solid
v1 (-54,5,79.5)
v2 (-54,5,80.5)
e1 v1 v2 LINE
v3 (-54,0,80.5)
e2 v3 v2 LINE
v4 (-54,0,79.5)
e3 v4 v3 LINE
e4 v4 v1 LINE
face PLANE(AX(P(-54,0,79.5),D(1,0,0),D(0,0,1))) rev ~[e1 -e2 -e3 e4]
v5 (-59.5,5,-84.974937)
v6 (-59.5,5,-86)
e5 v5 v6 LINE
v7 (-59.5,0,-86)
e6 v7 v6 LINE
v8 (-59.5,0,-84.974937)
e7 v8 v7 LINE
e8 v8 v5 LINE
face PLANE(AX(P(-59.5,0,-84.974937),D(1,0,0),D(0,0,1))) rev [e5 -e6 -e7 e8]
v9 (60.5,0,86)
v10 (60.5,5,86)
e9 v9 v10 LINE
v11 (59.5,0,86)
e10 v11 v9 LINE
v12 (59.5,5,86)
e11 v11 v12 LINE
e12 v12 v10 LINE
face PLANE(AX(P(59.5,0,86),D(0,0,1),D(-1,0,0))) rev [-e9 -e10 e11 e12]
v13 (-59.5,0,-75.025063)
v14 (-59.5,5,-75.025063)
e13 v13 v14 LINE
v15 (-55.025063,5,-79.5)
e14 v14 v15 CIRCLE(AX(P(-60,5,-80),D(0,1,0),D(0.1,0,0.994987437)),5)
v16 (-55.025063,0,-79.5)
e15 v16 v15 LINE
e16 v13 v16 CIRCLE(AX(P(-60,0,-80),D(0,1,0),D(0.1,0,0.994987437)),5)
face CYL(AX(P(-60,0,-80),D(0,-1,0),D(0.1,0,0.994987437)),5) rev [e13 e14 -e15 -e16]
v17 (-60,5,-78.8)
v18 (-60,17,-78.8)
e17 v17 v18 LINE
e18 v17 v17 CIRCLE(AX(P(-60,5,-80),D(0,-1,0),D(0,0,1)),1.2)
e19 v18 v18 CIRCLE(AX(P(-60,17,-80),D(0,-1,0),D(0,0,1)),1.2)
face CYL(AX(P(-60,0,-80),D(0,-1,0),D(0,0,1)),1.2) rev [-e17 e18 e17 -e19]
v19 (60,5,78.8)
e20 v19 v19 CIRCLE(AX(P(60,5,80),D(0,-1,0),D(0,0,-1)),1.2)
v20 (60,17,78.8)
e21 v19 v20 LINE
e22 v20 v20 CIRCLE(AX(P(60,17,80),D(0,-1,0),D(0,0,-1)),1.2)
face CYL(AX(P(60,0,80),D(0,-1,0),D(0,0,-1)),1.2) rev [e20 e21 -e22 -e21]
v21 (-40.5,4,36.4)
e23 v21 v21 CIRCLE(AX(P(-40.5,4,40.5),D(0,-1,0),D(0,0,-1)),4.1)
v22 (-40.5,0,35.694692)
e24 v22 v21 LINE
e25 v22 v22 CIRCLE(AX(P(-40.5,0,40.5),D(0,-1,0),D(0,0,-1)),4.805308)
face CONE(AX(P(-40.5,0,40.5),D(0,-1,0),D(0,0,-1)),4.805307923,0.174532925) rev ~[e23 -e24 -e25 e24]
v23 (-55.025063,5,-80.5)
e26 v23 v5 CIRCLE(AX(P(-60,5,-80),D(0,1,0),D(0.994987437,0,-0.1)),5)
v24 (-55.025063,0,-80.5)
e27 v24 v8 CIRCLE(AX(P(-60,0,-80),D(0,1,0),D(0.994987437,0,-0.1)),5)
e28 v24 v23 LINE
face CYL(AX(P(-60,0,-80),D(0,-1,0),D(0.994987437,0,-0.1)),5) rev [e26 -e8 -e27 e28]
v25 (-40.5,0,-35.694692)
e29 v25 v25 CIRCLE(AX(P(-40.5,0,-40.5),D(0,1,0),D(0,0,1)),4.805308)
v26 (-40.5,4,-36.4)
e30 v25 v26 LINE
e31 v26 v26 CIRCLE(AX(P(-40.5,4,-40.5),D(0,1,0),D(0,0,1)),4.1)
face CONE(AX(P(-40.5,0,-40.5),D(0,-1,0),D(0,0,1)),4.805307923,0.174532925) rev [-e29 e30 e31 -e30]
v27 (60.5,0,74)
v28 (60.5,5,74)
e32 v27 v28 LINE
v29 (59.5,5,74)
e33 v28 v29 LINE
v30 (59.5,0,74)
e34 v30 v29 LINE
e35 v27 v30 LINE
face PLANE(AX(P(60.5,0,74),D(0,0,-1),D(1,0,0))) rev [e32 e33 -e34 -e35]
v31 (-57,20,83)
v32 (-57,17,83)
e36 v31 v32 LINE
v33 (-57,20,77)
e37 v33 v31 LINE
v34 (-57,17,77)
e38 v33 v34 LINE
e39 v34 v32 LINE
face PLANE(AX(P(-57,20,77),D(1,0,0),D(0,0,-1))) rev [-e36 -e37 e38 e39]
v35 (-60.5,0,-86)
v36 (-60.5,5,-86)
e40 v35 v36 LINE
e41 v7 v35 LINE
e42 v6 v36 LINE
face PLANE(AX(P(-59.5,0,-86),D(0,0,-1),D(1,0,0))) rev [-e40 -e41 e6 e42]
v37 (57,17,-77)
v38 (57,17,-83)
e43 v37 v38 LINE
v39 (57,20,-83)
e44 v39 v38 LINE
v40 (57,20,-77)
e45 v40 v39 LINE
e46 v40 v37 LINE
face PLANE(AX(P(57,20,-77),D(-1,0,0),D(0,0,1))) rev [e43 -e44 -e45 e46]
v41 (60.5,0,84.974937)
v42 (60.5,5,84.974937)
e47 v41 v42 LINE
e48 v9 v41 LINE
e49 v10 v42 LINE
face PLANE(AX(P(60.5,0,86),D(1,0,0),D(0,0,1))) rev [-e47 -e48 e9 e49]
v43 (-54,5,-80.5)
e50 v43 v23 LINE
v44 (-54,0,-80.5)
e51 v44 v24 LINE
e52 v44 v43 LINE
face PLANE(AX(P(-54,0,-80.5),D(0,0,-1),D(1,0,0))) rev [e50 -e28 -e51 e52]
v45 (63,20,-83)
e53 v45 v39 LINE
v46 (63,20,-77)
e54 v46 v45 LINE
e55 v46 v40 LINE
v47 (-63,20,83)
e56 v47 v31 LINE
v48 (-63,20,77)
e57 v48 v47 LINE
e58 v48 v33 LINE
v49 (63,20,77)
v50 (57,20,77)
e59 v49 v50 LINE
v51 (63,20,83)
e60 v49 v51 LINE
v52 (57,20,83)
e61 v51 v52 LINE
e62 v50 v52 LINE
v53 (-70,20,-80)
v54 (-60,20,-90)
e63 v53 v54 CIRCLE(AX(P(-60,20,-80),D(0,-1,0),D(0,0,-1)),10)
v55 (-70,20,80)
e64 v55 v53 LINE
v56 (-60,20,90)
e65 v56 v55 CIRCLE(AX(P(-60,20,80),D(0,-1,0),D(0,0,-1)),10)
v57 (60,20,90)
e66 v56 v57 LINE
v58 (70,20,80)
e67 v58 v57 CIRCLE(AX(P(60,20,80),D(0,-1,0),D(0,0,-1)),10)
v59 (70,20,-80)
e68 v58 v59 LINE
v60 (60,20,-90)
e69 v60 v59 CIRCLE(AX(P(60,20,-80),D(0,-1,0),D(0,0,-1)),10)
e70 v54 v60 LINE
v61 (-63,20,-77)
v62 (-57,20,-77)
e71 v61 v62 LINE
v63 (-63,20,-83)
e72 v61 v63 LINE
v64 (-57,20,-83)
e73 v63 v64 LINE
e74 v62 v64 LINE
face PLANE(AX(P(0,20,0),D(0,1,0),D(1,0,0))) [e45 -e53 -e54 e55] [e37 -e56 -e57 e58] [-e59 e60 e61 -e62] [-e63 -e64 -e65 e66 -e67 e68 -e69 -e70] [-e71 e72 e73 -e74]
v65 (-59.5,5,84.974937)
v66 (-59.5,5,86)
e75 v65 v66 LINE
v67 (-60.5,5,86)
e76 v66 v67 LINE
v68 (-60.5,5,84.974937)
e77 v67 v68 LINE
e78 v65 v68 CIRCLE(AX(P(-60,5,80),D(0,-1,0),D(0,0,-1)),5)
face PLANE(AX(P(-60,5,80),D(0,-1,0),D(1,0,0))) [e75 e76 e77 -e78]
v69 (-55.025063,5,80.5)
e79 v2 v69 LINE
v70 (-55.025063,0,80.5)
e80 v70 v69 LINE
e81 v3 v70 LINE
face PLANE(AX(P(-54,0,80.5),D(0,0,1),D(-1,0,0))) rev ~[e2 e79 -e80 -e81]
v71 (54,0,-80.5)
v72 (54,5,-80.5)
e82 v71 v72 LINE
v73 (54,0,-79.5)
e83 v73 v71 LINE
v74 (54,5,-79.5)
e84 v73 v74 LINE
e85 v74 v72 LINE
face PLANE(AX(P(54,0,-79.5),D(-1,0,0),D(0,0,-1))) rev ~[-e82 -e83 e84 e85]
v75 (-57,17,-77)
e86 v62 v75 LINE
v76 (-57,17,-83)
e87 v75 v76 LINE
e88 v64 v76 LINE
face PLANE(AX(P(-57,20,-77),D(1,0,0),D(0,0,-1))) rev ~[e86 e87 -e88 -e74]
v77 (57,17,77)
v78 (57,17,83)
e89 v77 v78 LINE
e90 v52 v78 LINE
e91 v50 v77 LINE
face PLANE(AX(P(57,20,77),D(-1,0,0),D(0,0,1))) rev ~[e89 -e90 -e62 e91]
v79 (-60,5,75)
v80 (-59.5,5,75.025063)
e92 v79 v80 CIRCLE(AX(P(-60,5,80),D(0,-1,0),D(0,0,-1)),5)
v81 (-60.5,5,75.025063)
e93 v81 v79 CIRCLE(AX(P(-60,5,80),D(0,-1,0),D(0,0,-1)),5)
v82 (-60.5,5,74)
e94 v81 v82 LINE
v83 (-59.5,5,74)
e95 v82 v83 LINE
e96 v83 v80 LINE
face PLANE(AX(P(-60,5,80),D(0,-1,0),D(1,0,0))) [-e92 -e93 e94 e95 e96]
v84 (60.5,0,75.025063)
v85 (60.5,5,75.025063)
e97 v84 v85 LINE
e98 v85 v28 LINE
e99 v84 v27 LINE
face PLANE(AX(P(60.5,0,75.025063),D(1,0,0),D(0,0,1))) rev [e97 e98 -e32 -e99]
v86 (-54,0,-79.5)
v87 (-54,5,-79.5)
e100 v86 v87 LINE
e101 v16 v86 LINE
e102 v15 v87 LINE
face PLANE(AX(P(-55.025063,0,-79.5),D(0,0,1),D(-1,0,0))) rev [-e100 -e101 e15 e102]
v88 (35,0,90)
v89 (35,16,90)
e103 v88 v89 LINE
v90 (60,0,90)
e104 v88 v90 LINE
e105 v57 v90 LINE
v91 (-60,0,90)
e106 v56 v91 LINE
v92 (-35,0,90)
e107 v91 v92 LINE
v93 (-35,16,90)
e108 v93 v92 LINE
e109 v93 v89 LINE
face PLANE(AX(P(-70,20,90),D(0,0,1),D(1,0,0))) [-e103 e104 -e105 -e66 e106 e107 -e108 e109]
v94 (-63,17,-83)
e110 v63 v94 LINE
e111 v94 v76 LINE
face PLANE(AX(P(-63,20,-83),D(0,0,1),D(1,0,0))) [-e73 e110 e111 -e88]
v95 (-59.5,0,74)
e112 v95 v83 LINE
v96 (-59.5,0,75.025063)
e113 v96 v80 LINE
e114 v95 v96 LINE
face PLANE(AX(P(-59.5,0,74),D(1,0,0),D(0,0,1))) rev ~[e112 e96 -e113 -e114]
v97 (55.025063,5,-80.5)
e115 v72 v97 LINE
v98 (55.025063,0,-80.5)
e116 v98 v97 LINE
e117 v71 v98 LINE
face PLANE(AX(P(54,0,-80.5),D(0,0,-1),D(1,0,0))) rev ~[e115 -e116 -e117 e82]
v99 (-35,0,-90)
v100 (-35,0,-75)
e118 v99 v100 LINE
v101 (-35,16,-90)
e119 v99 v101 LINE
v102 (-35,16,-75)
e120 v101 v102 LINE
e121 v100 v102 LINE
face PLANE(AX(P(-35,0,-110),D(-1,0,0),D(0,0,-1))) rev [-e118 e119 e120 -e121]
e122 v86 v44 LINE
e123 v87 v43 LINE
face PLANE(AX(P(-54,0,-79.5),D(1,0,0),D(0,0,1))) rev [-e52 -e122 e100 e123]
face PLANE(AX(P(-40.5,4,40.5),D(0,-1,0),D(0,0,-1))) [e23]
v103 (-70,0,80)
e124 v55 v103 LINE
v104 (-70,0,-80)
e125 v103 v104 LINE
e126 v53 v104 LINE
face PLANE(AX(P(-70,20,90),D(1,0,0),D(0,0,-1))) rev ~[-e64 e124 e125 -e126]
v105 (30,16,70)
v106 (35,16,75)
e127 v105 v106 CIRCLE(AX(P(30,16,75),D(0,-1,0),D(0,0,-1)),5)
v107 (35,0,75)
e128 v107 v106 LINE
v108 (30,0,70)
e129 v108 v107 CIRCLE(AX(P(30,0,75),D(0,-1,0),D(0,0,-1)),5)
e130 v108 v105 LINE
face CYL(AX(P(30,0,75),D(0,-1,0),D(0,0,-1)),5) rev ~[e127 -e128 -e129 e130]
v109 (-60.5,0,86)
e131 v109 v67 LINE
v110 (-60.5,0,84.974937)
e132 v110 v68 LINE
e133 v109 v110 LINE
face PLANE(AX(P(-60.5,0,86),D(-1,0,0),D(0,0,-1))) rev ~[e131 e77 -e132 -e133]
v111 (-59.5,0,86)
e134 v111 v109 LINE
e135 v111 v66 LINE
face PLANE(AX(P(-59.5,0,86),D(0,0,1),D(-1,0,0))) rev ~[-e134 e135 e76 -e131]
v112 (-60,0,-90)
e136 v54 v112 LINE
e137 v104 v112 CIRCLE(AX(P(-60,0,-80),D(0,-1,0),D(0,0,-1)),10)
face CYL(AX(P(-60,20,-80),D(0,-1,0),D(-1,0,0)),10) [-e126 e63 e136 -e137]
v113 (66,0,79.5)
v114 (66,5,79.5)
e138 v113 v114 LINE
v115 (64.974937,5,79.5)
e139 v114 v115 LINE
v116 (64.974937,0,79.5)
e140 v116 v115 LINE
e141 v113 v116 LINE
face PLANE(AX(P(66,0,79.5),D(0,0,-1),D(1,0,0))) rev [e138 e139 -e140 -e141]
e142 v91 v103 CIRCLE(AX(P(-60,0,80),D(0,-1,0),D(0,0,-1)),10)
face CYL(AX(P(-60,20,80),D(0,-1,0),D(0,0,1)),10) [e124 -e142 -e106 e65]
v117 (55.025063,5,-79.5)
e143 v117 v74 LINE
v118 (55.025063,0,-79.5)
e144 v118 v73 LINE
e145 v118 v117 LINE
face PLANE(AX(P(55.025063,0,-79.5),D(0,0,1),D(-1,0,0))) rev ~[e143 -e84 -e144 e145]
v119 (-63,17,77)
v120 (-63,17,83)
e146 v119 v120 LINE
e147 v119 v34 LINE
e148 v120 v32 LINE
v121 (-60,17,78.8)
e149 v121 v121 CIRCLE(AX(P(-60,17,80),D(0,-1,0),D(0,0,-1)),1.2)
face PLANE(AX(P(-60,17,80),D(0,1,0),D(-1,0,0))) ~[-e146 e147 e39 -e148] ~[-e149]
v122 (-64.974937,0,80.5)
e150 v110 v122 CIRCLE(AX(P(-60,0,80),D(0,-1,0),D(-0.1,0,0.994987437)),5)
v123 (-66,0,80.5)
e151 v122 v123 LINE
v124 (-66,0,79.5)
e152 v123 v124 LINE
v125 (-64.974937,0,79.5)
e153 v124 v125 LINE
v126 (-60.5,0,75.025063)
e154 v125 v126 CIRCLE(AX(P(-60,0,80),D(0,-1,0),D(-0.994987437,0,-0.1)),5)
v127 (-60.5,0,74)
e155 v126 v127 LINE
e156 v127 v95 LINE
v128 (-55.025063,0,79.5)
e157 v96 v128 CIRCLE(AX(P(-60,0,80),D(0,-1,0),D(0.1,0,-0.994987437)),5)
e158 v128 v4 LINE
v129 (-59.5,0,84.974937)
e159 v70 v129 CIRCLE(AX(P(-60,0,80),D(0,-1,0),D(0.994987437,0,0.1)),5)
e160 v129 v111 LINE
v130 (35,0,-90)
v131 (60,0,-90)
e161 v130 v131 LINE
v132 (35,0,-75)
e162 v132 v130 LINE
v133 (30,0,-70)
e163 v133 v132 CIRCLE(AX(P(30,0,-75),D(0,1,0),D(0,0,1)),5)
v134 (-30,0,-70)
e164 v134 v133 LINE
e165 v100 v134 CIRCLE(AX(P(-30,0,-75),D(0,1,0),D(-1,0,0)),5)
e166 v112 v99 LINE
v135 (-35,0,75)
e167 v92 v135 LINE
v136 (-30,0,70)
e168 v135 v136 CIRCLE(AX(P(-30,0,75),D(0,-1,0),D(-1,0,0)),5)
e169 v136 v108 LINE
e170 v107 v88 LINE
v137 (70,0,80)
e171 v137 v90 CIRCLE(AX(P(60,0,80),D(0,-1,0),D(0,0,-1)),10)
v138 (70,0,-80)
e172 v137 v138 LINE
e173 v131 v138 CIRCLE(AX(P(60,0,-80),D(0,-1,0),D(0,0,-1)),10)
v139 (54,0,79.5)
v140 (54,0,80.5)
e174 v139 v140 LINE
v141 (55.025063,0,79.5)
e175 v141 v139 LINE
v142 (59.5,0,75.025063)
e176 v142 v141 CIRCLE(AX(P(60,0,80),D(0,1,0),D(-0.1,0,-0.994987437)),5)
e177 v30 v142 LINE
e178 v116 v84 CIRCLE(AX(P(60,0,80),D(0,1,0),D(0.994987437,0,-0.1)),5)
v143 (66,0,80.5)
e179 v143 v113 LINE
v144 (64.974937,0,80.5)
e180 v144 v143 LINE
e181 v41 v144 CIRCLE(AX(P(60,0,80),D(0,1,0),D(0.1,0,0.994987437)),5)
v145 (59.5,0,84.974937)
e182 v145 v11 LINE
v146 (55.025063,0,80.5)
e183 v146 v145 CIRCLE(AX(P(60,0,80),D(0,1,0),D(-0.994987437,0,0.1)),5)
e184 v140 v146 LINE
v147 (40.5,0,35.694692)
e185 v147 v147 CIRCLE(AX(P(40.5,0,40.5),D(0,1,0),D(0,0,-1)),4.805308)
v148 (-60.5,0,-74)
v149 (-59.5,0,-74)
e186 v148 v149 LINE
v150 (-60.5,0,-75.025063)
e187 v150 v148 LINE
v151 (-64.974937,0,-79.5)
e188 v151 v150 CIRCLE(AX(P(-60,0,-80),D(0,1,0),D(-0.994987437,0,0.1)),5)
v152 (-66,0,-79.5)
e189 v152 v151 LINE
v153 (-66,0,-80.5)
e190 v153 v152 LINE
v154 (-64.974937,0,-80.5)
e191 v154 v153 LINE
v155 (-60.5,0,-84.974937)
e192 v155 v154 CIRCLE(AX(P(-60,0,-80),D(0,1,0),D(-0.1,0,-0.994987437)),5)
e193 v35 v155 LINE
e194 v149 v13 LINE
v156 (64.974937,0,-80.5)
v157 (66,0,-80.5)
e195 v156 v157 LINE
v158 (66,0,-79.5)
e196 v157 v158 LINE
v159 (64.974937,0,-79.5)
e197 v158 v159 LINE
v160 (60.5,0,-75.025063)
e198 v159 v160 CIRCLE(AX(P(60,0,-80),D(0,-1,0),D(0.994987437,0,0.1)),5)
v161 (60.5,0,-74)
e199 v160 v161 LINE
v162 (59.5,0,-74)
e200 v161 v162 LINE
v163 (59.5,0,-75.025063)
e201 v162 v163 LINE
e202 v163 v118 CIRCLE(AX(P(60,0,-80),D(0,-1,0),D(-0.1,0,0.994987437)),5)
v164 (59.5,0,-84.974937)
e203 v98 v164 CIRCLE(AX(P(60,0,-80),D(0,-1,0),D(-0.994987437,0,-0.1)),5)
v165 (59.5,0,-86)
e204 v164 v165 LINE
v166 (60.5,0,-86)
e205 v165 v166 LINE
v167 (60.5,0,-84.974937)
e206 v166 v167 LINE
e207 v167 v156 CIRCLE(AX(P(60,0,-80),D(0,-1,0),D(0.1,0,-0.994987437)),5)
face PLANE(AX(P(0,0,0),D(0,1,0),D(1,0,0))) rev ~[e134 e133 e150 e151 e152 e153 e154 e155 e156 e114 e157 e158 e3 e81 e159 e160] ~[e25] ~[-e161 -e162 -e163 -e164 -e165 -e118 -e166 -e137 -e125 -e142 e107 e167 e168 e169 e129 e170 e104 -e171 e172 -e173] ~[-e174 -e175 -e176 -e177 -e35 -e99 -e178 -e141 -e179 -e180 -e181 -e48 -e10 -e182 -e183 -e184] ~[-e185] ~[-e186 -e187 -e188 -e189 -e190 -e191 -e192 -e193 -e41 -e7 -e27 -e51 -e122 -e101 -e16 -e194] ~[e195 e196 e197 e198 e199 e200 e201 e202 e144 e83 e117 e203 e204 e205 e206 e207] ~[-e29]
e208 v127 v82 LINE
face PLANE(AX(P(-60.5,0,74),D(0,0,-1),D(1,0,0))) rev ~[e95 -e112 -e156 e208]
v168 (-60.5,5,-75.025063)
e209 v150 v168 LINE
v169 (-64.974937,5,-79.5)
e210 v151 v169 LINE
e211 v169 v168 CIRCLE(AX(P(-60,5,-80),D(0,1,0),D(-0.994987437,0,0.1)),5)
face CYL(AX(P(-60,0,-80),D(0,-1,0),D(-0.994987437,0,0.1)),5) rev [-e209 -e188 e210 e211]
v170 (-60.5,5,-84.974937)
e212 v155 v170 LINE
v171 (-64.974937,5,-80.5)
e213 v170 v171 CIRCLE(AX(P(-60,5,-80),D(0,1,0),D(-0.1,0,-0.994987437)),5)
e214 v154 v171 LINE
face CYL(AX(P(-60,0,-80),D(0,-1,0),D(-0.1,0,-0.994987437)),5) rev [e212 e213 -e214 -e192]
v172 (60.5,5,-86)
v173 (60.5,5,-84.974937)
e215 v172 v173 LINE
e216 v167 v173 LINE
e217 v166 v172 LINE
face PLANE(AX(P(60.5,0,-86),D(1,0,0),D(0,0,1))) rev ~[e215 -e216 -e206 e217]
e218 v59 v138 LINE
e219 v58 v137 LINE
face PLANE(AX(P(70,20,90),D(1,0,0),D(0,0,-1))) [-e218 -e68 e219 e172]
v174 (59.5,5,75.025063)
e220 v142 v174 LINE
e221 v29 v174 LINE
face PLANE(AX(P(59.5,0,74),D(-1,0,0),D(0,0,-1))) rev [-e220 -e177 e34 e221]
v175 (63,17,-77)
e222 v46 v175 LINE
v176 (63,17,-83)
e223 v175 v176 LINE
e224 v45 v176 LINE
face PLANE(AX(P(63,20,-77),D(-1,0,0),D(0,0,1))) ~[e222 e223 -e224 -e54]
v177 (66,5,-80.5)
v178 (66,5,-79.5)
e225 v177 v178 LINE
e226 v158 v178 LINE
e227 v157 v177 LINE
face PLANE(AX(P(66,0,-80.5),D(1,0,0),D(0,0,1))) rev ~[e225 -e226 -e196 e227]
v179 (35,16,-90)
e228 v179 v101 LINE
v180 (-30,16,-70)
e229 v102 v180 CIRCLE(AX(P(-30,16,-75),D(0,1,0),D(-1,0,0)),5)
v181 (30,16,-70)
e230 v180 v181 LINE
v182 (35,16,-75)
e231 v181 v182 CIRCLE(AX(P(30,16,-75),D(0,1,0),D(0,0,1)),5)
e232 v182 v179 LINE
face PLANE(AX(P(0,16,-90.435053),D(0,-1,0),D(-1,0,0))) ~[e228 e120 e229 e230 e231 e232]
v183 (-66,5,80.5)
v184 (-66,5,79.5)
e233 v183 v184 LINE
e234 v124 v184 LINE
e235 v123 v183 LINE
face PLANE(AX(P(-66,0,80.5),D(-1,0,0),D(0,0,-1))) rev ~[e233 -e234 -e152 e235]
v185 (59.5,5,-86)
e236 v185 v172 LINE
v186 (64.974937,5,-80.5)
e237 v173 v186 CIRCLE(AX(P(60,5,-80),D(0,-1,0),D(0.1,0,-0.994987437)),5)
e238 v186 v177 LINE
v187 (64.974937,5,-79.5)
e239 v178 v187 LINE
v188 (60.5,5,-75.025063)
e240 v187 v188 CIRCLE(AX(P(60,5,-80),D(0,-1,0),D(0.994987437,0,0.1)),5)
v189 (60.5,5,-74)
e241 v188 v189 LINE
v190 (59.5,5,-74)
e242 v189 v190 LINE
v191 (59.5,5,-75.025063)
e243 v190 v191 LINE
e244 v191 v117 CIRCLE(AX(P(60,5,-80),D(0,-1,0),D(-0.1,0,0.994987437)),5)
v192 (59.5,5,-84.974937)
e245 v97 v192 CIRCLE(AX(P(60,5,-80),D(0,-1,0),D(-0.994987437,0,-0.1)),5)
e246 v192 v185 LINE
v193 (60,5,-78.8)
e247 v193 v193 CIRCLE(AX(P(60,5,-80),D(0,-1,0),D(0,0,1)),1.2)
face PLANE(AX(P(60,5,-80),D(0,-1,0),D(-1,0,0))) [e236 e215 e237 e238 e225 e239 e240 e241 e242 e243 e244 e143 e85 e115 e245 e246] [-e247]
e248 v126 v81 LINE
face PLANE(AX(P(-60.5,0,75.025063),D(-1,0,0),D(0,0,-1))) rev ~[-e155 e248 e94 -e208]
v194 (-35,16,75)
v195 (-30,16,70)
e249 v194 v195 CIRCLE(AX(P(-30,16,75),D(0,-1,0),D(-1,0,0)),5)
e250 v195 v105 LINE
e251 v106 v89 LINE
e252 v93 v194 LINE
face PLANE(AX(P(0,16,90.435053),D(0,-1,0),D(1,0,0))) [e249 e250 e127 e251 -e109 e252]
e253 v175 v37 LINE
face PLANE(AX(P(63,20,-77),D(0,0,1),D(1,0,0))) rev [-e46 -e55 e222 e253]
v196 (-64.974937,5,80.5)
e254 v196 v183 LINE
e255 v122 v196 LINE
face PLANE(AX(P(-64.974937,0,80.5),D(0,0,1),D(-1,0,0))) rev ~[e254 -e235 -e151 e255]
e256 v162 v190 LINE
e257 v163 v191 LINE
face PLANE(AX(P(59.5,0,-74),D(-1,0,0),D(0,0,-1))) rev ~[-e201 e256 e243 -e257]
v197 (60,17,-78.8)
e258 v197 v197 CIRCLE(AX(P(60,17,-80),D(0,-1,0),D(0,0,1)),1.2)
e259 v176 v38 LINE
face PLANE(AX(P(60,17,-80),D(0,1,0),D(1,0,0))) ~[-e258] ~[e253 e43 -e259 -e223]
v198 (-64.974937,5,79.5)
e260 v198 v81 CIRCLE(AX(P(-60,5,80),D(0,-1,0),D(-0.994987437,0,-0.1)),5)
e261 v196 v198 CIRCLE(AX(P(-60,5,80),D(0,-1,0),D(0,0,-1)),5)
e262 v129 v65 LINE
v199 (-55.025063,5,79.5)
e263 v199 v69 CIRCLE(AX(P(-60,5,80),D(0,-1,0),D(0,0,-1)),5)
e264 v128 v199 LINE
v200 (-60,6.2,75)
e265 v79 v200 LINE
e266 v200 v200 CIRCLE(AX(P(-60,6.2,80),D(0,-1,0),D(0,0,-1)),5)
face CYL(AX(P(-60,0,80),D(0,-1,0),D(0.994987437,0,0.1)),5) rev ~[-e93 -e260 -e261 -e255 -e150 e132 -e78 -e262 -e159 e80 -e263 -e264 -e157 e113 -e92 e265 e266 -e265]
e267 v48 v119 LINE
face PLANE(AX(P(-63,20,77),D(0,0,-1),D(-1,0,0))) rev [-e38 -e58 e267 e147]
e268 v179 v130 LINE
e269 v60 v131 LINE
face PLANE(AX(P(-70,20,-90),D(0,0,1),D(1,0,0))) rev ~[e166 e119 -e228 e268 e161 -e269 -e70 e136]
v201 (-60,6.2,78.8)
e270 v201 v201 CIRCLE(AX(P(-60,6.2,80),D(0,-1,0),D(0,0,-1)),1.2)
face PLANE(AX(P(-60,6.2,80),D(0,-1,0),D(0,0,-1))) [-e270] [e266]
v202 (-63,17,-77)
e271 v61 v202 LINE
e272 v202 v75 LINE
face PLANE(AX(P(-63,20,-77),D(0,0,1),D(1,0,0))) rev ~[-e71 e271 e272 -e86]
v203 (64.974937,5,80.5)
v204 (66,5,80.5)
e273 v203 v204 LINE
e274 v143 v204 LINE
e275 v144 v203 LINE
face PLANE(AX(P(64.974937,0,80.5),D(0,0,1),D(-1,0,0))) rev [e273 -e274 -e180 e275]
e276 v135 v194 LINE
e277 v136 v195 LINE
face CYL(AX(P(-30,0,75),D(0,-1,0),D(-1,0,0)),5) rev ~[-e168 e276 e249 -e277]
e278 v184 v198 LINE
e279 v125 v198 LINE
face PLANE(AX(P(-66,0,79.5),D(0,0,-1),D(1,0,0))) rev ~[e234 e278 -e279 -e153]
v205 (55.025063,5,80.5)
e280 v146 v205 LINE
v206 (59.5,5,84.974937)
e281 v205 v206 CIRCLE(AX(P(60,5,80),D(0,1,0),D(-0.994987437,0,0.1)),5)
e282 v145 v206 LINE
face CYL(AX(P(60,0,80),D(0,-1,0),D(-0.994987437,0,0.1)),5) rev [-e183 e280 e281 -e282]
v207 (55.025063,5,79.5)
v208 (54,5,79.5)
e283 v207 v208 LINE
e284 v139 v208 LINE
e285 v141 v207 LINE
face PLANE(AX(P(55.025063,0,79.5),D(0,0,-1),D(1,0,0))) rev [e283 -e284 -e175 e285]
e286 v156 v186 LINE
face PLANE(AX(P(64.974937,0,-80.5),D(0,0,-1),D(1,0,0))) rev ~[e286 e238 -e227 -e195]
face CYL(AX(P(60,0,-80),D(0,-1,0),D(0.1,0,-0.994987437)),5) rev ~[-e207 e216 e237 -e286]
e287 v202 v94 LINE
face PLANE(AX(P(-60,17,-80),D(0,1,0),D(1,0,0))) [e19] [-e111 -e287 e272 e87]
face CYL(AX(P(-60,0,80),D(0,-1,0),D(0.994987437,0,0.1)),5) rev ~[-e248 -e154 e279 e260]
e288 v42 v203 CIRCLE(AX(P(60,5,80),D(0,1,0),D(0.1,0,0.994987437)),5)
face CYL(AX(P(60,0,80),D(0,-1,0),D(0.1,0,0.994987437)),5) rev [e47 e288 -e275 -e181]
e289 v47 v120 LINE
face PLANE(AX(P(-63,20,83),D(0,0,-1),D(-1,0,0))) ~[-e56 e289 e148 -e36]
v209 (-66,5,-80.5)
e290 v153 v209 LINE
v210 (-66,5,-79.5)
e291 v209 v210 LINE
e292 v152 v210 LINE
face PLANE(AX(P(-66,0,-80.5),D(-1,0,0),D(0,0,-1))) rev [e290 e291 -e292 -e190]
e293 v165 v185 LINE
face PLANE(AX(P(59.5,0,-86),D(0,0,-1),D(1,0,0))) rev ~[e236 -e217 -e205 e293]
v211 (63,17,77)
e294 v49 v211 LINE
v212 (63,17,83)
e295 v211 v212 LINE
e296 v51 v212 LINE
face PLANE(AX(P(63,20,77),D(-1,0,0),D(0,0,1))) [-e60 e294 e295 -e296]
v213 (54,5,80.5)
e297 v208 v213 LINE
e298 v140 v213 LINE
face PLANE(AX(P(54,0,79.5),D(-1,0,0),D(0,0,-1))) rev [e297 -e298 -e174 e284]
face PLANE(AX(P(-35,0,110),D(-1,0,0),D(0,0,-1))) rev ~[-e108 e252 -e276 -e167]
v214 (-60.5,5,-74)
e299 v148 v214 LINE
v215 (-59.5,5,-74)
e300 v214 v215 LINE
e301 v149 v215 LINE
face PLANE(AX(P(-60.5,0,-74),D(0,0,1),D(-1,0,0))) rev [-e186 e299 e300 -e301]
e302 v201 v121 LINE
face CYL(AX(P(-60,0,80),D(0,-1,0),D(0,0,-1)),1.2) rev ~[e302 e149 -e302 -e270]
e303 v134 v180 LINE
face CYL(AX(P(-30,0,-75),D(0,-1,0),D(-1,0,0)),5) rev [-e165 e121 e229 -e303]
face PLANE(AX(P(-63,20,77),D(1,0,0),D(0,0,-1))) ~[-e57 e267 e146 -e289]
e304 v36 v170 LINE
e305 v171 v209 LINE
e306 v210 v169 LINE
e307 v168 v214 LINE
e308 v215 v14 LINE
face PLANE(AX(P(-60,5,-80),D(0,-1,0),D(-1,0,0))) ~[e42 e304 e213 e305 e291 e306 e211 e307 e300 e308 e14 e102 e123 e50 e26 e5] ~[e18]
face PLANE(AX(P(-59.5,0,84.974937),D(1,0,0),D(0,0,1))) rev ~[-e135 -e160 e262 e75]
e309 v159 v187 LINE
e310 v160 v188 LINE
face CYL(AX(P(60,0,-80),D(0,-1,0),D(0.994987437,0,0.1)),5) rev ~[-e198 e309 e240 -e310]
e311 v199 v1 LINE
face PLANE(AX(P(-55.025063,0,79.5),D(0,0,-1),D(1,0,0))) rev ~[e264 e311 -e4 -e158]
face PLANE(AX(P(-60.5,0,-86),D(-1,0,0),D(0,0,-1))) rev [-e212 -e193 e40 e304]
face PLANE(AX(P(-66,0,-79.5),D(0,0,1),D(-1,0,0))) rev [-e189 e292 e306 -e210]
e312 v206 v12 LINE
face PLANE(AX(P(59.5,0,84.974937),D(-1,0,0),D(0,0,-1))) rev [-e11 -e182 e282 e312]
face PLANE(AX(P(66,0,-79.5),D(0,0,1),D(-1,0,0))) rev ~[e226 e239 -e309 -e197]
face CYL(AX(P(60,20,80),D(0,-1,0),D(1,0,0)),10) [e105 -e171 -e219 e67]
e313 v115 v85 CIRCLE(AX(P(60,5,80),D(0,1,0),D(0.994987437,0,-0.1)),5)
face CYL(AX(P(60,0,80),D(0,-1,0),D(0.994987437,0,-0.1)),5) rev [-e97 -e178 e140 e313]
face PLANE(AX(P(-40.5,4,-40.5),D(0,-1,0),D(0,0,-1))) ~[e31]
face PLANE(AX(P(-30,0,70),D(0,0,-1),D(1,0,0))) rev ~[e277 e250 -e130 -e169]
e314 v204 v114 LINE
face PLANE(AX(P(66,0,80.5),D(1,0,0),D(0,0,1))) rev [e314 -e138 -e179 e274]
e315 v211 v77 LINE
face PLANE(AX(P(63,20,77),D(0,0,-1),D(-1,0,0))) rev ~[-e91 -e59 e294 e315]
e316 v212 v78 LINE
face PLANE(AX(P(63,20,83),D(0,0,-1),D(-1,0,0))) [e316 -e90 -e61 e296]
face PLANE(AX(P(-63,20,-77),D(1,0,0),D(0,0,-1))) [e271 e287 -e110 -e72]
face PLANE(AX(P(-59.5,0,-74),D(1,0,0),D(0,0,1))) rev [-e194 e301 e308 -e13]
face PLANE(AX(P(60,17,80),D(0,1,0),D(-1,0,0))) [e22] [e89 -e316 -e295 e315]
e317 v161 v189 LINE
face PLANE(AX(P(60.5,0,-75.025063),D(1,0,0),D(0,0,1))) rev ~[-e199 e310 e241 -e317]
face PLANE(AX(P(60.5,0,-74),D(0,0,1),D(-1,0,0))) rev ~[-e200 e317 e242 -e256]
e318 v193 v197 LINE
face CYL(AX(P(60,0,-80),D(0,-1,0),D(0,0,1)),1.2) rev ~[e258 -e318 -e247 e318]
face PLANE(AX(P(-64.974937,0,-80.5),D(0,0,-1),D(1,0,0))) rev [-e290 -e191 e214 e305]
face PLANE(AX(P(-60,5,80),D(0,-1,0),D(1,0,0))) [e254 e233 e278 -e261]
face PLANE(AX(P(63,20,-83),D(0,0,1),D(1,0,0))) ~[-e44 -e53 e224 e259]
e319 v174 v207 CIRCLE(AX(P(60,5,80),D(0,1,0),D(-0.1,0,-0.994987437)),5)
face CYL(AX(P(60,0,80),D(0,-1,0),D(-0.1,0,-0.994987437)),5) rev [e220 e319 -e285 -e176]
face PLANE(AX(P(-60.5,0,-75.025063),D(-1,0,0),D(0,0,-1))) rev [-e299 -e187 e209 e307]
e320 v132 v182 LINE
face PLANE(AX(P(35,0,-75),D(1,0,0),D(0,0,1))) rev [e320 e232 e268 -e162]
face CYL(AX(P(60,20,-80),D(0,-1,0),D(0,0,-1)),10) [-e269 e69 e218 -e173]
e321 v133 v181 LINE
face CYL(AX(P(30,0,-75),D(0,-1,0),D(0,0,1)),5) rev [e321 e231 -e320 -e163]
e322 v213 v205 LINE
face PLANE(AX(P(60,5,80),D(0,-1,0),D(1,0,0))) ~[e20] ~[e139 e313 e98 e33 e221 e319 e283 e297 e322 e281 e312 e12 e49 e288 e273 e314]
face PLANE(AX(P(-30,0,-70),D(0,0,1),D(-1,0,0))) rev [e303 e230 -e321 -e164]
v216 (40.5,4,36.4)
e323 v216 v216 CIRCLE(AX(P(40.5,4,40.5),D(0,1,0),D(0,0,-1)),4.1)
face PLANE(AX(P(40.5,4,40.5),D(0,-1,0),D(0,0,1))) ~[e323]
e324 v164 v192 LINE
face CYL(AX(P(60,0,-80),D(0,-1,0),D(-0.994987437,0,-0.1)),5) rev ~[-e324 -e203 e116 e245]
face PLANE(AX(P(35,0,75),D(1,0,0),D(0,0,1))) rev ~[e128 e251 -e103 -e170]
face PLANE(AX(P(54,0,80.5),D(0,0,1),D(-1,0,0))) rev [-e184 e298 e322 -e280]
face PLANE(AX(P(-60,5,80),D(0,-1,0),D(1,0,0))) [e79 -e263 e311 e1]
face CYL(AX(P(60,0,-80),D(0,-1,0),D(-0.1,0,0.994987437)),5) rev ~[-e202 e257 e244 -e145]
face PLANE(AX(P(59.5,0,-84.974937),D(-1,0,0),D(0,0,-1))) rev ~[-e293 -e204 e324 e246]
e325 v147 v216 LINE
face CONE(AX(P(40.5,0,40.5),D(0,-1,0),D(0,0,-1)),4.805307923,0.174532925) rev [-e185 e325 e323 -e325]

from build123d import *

# Parameters (mm, degrees)
SKETCH_1_W                                 = 200
SKETCH_1_H                                 = 200
EXTRUDE_1_DEPTH                            = 20
SKETCH_2_W                                 = 200
SKETCH_2_H                                 = 200
SKETCH_2_W_2                               = 140
SKETCH_2_H_2                               = 180
CUT_EXTRUDE_2_DEPTH                        = 143.828568571
FILLET_1_R                                 = 10
FILLET_2_R                                 = 10
FILLET_3_R                                 = 10
FILLET_4_R                                 = 10
CUT_EXTRUDE_4_DEPTH                        = 5
MIRROR_3_AT_THE_SECOND_PLANE_COPY_1_DEPTH  = 5
SKETCH_5_R                                 = 5
CUT_EXTRUDE_5_DEPTH                        = 6.2
CUT_EXTRUDE_7_DEPTH                        = 16
SKETCH_8_R                                 = 4.1
CUT_EXTRUDE_8_DEPTH                        = 4
DRAFT_2_ANGLE                              = 10
DRAFT_2_OF_MIRROR_10_2_ANGLE               = 10
DRAFT_2_OF_MIRROR_11_2_ANGLE               = 10
SKETCH_14_W                                = 6
SKETCH_14_H                                = 6
CUT_EXTRUDE_9_DEPTH                        = 3
MIRROR_12_AT_THE_SECOND_PLANE_COPY_1_SKE_W = 6
MIRROR_12_AT_THE_SECOND_PLANE_COPY_1_SKE_H = 6
MIRROR_12_AT_THE_SECOND_PLANE_COPY_1_DEPTH = 3
SKETCH_18_R                                = 1.2
CUT_EXTRUDE_11_DEPTH                       = 116.758369028
MIRROR_16_AT_THE_SECOND_PLANE_COPY_1_SKE_R = 1.2
MIRROR_16_AT_THE_SECOND_PLANE_COPY_1_DEPTH = 116.758369028


with BuildPart() as part:
    # 草图1 → 凸台-拉伸1 (new body)
    with BuildSketch(Plane(origin=(0, 0, 0), x_dir=(1, 0, 0), z_dir=(0, 1, 0))):
        Rectangle(SKETCH_1_W, SKETCH_1_H)
    extrude(amount=EXTRUDE_1_DEPTH)

    # 草图2 → 切除-拉伸2 (cut, through all)
    with BuildSketch(Plane(origin=(0, 20, 0), x_dir=(1, 0, 0), z_dir=(0, 1, 0))):
        Rectangle(SKETCH_2_W, SKETCH_2_H)
        Rectangle(SKETCH_2_W_2, SKETCH_2_H_2, mode=Mode.SUBTRACT)
    extrude(amount=-CUT_EXTRUDE_2_DEPTH, mode=Mode.SUBTRACT)

    # 圆角1
    fillet_1_edges = [part.edges().sort_by_distance(p)[0] for p in [
        (-70, 10, -90),
    ]]
    fillet(fillet_1_edges, radius=FILLET_1_R)

    # 圆角2
    fillet_2_edges = [part.edges().sort_by_distance(p)[0] for p in [
        (70, 10, -90),
    ]]
    fillet(fillet_2_edges, radius=FILLET_2_R)

    # 圆角3
    fillet_3_edges = [part.edges().sort_by_distance(p)[0] for p in [
        (70, 10, 90),
    ]]
    fillet(fillet_3_edges, radius=FILLET_3_R)

    # 圆角4
    fillet_4_edges = [part.edges().sort_by_distance(p)[0] for p in [
        (-70, 10, 90),
    ]]
    fillet(fillet_4_edges, radius=FILLET_4_R)

    # 草图4 → 切除-拉伸4 (cut)
    with BuildSketch(Plane.XZ):
        with BuildLine():
            Line((-59.5, 84.974937186), (-59.5, 86))
            Line((-59.5, 86), (-60.5, 86))
            Line((-60.5, 86), (-60.5, 84.974937186))
            ThreePointArc((-60.5, 84.974937186), (-63.535533906, 83.535533906), (-64.974937186, 80.5))
            Line((-64.974937186, 80.5), (-66, 80.5))
            Line((-66, 80.5), (-66, 79.5))
            Line((-66, 79.5), (-64.974937186, 79.5))
            ThreePointArc((-64.974937186, 79.5), (-63.535533906, 76.464466094), (-60.5, 75.025062814))
            Line((-60.5, 75.025062814), (-60.5, 74))
            Line((-60.5, 74), (-59.5, 74))
            Line((-59.5, 74), (-59.5, 75.025062814))
            ThreePointArc((-59.5, 75.025062814), (-56.464466094, 76.464466094), (-55.025062814, 79.5))
            Line((-55.025062814, 79.5), (-54, 79.5))
            Line((-54, 79.5), (-54, 80.5))
            Line((-54, 80.5), (-55.025062814, 80.5))
            ThreePointArc((-55.025062814, 80.5), (-56.464466094, 83.535533906), (-59.5, 84.974937186))
        make_face()
    cut_extrude_4 = extrude(amount=-CUT_EXTRUDE_4_DEPTH, mode=Mode.SUBTRACT)

    # 镜向3: 切除-拉伸4 across plane
    add(cut_extrude_4.mirror(Plane(origin=(0, 0, 0), x_dir=(0, 0, 1), z_dir=(1, 0, 0))), mode=Mode.SUBTRACT)

    # 镜向3 at the second plane: 切除-拉伸4 across plane
    add(cut_extrude_4.mirror(Plane.XY), mode=Mode.SUBTRACT)

    # 镜向3 at the second plane copy 1 sket → 镜向3 at the second plane copy 1 (cut)
    with BuildSketch(Plane(origin=(0, 0, 0), x_dir=(-1, 0, 0), z_dir=(0, -1, 0))):
        with BuildLine():
            Line((-59.5, 84.974937186), (-59.5, 86))
            Line((-59.5, 86), (-60.5, 86))
            Line((-60.5, 86), (-60.5, 84.974937186))
            ThreePointArc((-60.5, 84.974937186), (-63.535533906, 83.535533906), (-64.974937186, 80.5))
            Line((-64.974937186, 80.5), (-66, 80.5))
            Line((-66, 80.5), (-66, 79.5))
            Line((-66, 79.5), (-64.974937186, 79.5))
            ThreePointArc((-64.974937186, 79.5), (-63.535533906, 76.464466094), (-60.5, 75.025062814))
            Line((-60.5, 75.025062814), (-60.5, 74))
            Line((-60.5, 74), (-59.5, 74))
            Line((-59.5, 74), (-59.5, 75.025062814))
            ThreePointArc((-59.5, 75.025062814), (-56.464466094, 76.464466094), (-55.025062814, 79.5))
            Line((-55.025062814, 79.5), (-54, 79.5))
            Line((-54, 79.5), (-54, 80.5))
            Line((-54, 80.5), (-55.025062814, 80.5))
            ThreePointArc((-55.025062814, 80.5), (-56.464466094, 83.535533906), (-59.5, 84.974937186))
        make_face()
    extrude(amount=-MIRROR_3_AT_THE_SECOND_PLANE_COPY_1_DEPTH, mode=Mode.SUBTRACT)

    # 草图5 → 切除-拉伸5 (cut)
    with BuildSketch(Plane.XZ):
        with Locations(Location((-60, 80, 0), (0, 0, 270))):
            Circle(SKETCH_5_R)
    extrude(amount=-CUT_EXTRUDE_5_DEPTH, mode=Mode.SUBTRACT)

    # 草图7 → 切除-拉伸7 (cut)
    with BuildSketch(Plane.XZ):
        with BuildLine():
            Line((35, 110), (-35, 110))
            Line((-35, 110), (-35, 75))
            ThreePointArc((-35, 75), (-33.535533906, 71.464466094), (-30, 70))
            Line((-30, 70), (30, 70))
            ThreePointArc((30, 70), (33.535533906, 71.464466094), (35, 75))
            Line((35, 75), (35, 110))
        make_face()
    cut_extrude_7 = extrude(amount=-CUT_EXTRUDE_7_DEPTH, mode=Mode.SUBTRACT)

    # 镜向6: 切除-拉伸7 across plane
    add(cut_extrude_7.mirror(Plane.XY), mode=Mode.SUBTRACT)

    # 草图8 → 切除-拉伸8 (cut)
    with BuildSketch(Plane.XZ):
        with Locations(Location((-40.5, 40.5, 0), (0, 0, 270))):
            Circle(SKETCH_8_R)
    cut_extrude_8 = extrude(amount=-CUT_EXTRUDE_8_DEPTH, mode=Mode.SUBTRACT)

    # 拔模2
    draft_2_faces = [part.faces().sort_by_distance(p)[0] for p in [
        (-40.5, 2, 44.6),
    ]]
    draft(draft_2_faces, Plane(origin=(-40.5, 4, 40.5), x_dir=(0, 0, -1), z_dir=(0, -1, 0)), DRAFT_2_ANGLE)

    # 镜向10: 切除-拉伸8 across plane
    add(cut_extrude_8.mirror(Plane(origin=(0, 0, 0), x_dir=(0, 0, 1), z_dir=(1, 0, 0))), mode=Mode.SUBTRACT)

    # 拔模2 of Mirror 10 2
    draft_2_of_mirror_10_2_faces = [part.faces().sort_by_distance(p)[0] for p in [
        (40.5, 2, 44.6),
    ]]
    draft(draft_2_of_mirror_10_2_faces, Plane(origin=(40.5, 4, 40.5), x_dir=(0, 0, -1), z_dir=(0, -1, 0)), DRAFT_2_OF_MIRROR_10_2_ANGLE)

    # 镜向11: 切除-拉伸8 across plane
    add(cut_extrude_8.mirror(Plane.XY), mode=Mode.SUBTRACT)

    # 拔模2 of Mirror 11 2
    draft_2_of_mirror_11_2_faces = [part.faces().sort_by_distance(p)[0] for p in [
        (-40.5, 2, -44.6),
    ]]
    draft(draft_2_of_mirror_11_2_faces, Plane(origin=(-40.5, 4, -40.5), x_dir=(0, 0, 1), z_dir=(0, -1, 0)), DRAFT_2_OF_MIRROR_11_2_ANGLE)

    # 草图14 → 切除-拉伸9 (cut)
    with BuildSketch(Plane(origin=(0, 20, 0), x_dir=(1, 0, 0), z_dir=(0, 1, 0))):
        with Locations((-60, 80)):
            Rectangle(SKETCH_14_W, SKETCH_14_H)
    cut_extrude_9 = extrude(amount=-CUT_EXTRUDE_9_DEPTH, mode=Mode.SUBTRACT)

    # 镜向12: 切除-拉伸9 across plane
    add(cut_extrude_9.mirror(Plane(origin=(0, 0, 0), x_dir=(0, 0, 1), z_dir=(1, 0, 0))), mode=Mode.SUBTRACT)

    # 镜向12 at the second plane: 切除-拉伸9 across plane
    add(cut_extrude_9.mirror(Plane.XY), mode=Mode.SUBTRACT)

    # 镜向12 at the second plane copy 1 ske → 镜向12 at the second plane copy 1 (cut)
    with BuildSketch(Plane(origin=(0, 20, 0), x_dir=(-1, 0, 0), z_dir=(0, 1, 0))):
        with Locations((-60, 80)):
            Rectangle(MIRROR_12_AT_THE_SECOND_PLANE_COPY_1_SKE_W, MIRROR_12_AT_THE_SECOND_PLANE_COPY_1_SKE_H)
    extrude(amount=-MIRROR_12_AT_THE_SECOND_PLANE_COPY_1_DEPTH, mode=Mode.SUBTRACT)

    # 草图18 → 切除-拉伸11 (cut, through all)
    with BuildSketch(Plane.XZ):
        with Locations(Location((-60, 80, 0), (0, 0, 270))):
            Circle(SKETCH_18_R)
    cut_extrude_11 = extrude(amount=-CUT_EXTRUDE_11_DEPTH, mode=Mode.SUBTRACT)

    # 镜向16: 切除-拉伸11 across plane
    add(cut_extrude_11.mirror(Plane(origin=(0, 0, 0), x_dir=(0, 0, 1), z_dir=(1, 0, 0))), mode=Mode.SUBTRACT)

    # 镜向16 at the second plane: 切除-拉伸11 across plane
    add(cut_extrude_11.mirror(Plane.XY), mode=Mode.SUBTRACT)

    # 镜向16 at the second plane copy 1 ske → 镜向16 at the second plane copy 1 (cut, through all)
    with BuildSketch(Plane(origin=(0, 0, 0), x_dir=(-1, 0, 0), z_dir=(0, -1, 0))):
        with Locations(Location((-60, 80, 0), (0, 0, 270))):
            Circle(MIRROR_16_AT_THE_SECOND_PLANE_COPY_1_SKE_R)
    extrude(amount=-MIRROR_16_AT_THE_SECOND_PLANE_COPY_1_DEPTH, mode=Mode.SUBTRACT)


solid = part.part
